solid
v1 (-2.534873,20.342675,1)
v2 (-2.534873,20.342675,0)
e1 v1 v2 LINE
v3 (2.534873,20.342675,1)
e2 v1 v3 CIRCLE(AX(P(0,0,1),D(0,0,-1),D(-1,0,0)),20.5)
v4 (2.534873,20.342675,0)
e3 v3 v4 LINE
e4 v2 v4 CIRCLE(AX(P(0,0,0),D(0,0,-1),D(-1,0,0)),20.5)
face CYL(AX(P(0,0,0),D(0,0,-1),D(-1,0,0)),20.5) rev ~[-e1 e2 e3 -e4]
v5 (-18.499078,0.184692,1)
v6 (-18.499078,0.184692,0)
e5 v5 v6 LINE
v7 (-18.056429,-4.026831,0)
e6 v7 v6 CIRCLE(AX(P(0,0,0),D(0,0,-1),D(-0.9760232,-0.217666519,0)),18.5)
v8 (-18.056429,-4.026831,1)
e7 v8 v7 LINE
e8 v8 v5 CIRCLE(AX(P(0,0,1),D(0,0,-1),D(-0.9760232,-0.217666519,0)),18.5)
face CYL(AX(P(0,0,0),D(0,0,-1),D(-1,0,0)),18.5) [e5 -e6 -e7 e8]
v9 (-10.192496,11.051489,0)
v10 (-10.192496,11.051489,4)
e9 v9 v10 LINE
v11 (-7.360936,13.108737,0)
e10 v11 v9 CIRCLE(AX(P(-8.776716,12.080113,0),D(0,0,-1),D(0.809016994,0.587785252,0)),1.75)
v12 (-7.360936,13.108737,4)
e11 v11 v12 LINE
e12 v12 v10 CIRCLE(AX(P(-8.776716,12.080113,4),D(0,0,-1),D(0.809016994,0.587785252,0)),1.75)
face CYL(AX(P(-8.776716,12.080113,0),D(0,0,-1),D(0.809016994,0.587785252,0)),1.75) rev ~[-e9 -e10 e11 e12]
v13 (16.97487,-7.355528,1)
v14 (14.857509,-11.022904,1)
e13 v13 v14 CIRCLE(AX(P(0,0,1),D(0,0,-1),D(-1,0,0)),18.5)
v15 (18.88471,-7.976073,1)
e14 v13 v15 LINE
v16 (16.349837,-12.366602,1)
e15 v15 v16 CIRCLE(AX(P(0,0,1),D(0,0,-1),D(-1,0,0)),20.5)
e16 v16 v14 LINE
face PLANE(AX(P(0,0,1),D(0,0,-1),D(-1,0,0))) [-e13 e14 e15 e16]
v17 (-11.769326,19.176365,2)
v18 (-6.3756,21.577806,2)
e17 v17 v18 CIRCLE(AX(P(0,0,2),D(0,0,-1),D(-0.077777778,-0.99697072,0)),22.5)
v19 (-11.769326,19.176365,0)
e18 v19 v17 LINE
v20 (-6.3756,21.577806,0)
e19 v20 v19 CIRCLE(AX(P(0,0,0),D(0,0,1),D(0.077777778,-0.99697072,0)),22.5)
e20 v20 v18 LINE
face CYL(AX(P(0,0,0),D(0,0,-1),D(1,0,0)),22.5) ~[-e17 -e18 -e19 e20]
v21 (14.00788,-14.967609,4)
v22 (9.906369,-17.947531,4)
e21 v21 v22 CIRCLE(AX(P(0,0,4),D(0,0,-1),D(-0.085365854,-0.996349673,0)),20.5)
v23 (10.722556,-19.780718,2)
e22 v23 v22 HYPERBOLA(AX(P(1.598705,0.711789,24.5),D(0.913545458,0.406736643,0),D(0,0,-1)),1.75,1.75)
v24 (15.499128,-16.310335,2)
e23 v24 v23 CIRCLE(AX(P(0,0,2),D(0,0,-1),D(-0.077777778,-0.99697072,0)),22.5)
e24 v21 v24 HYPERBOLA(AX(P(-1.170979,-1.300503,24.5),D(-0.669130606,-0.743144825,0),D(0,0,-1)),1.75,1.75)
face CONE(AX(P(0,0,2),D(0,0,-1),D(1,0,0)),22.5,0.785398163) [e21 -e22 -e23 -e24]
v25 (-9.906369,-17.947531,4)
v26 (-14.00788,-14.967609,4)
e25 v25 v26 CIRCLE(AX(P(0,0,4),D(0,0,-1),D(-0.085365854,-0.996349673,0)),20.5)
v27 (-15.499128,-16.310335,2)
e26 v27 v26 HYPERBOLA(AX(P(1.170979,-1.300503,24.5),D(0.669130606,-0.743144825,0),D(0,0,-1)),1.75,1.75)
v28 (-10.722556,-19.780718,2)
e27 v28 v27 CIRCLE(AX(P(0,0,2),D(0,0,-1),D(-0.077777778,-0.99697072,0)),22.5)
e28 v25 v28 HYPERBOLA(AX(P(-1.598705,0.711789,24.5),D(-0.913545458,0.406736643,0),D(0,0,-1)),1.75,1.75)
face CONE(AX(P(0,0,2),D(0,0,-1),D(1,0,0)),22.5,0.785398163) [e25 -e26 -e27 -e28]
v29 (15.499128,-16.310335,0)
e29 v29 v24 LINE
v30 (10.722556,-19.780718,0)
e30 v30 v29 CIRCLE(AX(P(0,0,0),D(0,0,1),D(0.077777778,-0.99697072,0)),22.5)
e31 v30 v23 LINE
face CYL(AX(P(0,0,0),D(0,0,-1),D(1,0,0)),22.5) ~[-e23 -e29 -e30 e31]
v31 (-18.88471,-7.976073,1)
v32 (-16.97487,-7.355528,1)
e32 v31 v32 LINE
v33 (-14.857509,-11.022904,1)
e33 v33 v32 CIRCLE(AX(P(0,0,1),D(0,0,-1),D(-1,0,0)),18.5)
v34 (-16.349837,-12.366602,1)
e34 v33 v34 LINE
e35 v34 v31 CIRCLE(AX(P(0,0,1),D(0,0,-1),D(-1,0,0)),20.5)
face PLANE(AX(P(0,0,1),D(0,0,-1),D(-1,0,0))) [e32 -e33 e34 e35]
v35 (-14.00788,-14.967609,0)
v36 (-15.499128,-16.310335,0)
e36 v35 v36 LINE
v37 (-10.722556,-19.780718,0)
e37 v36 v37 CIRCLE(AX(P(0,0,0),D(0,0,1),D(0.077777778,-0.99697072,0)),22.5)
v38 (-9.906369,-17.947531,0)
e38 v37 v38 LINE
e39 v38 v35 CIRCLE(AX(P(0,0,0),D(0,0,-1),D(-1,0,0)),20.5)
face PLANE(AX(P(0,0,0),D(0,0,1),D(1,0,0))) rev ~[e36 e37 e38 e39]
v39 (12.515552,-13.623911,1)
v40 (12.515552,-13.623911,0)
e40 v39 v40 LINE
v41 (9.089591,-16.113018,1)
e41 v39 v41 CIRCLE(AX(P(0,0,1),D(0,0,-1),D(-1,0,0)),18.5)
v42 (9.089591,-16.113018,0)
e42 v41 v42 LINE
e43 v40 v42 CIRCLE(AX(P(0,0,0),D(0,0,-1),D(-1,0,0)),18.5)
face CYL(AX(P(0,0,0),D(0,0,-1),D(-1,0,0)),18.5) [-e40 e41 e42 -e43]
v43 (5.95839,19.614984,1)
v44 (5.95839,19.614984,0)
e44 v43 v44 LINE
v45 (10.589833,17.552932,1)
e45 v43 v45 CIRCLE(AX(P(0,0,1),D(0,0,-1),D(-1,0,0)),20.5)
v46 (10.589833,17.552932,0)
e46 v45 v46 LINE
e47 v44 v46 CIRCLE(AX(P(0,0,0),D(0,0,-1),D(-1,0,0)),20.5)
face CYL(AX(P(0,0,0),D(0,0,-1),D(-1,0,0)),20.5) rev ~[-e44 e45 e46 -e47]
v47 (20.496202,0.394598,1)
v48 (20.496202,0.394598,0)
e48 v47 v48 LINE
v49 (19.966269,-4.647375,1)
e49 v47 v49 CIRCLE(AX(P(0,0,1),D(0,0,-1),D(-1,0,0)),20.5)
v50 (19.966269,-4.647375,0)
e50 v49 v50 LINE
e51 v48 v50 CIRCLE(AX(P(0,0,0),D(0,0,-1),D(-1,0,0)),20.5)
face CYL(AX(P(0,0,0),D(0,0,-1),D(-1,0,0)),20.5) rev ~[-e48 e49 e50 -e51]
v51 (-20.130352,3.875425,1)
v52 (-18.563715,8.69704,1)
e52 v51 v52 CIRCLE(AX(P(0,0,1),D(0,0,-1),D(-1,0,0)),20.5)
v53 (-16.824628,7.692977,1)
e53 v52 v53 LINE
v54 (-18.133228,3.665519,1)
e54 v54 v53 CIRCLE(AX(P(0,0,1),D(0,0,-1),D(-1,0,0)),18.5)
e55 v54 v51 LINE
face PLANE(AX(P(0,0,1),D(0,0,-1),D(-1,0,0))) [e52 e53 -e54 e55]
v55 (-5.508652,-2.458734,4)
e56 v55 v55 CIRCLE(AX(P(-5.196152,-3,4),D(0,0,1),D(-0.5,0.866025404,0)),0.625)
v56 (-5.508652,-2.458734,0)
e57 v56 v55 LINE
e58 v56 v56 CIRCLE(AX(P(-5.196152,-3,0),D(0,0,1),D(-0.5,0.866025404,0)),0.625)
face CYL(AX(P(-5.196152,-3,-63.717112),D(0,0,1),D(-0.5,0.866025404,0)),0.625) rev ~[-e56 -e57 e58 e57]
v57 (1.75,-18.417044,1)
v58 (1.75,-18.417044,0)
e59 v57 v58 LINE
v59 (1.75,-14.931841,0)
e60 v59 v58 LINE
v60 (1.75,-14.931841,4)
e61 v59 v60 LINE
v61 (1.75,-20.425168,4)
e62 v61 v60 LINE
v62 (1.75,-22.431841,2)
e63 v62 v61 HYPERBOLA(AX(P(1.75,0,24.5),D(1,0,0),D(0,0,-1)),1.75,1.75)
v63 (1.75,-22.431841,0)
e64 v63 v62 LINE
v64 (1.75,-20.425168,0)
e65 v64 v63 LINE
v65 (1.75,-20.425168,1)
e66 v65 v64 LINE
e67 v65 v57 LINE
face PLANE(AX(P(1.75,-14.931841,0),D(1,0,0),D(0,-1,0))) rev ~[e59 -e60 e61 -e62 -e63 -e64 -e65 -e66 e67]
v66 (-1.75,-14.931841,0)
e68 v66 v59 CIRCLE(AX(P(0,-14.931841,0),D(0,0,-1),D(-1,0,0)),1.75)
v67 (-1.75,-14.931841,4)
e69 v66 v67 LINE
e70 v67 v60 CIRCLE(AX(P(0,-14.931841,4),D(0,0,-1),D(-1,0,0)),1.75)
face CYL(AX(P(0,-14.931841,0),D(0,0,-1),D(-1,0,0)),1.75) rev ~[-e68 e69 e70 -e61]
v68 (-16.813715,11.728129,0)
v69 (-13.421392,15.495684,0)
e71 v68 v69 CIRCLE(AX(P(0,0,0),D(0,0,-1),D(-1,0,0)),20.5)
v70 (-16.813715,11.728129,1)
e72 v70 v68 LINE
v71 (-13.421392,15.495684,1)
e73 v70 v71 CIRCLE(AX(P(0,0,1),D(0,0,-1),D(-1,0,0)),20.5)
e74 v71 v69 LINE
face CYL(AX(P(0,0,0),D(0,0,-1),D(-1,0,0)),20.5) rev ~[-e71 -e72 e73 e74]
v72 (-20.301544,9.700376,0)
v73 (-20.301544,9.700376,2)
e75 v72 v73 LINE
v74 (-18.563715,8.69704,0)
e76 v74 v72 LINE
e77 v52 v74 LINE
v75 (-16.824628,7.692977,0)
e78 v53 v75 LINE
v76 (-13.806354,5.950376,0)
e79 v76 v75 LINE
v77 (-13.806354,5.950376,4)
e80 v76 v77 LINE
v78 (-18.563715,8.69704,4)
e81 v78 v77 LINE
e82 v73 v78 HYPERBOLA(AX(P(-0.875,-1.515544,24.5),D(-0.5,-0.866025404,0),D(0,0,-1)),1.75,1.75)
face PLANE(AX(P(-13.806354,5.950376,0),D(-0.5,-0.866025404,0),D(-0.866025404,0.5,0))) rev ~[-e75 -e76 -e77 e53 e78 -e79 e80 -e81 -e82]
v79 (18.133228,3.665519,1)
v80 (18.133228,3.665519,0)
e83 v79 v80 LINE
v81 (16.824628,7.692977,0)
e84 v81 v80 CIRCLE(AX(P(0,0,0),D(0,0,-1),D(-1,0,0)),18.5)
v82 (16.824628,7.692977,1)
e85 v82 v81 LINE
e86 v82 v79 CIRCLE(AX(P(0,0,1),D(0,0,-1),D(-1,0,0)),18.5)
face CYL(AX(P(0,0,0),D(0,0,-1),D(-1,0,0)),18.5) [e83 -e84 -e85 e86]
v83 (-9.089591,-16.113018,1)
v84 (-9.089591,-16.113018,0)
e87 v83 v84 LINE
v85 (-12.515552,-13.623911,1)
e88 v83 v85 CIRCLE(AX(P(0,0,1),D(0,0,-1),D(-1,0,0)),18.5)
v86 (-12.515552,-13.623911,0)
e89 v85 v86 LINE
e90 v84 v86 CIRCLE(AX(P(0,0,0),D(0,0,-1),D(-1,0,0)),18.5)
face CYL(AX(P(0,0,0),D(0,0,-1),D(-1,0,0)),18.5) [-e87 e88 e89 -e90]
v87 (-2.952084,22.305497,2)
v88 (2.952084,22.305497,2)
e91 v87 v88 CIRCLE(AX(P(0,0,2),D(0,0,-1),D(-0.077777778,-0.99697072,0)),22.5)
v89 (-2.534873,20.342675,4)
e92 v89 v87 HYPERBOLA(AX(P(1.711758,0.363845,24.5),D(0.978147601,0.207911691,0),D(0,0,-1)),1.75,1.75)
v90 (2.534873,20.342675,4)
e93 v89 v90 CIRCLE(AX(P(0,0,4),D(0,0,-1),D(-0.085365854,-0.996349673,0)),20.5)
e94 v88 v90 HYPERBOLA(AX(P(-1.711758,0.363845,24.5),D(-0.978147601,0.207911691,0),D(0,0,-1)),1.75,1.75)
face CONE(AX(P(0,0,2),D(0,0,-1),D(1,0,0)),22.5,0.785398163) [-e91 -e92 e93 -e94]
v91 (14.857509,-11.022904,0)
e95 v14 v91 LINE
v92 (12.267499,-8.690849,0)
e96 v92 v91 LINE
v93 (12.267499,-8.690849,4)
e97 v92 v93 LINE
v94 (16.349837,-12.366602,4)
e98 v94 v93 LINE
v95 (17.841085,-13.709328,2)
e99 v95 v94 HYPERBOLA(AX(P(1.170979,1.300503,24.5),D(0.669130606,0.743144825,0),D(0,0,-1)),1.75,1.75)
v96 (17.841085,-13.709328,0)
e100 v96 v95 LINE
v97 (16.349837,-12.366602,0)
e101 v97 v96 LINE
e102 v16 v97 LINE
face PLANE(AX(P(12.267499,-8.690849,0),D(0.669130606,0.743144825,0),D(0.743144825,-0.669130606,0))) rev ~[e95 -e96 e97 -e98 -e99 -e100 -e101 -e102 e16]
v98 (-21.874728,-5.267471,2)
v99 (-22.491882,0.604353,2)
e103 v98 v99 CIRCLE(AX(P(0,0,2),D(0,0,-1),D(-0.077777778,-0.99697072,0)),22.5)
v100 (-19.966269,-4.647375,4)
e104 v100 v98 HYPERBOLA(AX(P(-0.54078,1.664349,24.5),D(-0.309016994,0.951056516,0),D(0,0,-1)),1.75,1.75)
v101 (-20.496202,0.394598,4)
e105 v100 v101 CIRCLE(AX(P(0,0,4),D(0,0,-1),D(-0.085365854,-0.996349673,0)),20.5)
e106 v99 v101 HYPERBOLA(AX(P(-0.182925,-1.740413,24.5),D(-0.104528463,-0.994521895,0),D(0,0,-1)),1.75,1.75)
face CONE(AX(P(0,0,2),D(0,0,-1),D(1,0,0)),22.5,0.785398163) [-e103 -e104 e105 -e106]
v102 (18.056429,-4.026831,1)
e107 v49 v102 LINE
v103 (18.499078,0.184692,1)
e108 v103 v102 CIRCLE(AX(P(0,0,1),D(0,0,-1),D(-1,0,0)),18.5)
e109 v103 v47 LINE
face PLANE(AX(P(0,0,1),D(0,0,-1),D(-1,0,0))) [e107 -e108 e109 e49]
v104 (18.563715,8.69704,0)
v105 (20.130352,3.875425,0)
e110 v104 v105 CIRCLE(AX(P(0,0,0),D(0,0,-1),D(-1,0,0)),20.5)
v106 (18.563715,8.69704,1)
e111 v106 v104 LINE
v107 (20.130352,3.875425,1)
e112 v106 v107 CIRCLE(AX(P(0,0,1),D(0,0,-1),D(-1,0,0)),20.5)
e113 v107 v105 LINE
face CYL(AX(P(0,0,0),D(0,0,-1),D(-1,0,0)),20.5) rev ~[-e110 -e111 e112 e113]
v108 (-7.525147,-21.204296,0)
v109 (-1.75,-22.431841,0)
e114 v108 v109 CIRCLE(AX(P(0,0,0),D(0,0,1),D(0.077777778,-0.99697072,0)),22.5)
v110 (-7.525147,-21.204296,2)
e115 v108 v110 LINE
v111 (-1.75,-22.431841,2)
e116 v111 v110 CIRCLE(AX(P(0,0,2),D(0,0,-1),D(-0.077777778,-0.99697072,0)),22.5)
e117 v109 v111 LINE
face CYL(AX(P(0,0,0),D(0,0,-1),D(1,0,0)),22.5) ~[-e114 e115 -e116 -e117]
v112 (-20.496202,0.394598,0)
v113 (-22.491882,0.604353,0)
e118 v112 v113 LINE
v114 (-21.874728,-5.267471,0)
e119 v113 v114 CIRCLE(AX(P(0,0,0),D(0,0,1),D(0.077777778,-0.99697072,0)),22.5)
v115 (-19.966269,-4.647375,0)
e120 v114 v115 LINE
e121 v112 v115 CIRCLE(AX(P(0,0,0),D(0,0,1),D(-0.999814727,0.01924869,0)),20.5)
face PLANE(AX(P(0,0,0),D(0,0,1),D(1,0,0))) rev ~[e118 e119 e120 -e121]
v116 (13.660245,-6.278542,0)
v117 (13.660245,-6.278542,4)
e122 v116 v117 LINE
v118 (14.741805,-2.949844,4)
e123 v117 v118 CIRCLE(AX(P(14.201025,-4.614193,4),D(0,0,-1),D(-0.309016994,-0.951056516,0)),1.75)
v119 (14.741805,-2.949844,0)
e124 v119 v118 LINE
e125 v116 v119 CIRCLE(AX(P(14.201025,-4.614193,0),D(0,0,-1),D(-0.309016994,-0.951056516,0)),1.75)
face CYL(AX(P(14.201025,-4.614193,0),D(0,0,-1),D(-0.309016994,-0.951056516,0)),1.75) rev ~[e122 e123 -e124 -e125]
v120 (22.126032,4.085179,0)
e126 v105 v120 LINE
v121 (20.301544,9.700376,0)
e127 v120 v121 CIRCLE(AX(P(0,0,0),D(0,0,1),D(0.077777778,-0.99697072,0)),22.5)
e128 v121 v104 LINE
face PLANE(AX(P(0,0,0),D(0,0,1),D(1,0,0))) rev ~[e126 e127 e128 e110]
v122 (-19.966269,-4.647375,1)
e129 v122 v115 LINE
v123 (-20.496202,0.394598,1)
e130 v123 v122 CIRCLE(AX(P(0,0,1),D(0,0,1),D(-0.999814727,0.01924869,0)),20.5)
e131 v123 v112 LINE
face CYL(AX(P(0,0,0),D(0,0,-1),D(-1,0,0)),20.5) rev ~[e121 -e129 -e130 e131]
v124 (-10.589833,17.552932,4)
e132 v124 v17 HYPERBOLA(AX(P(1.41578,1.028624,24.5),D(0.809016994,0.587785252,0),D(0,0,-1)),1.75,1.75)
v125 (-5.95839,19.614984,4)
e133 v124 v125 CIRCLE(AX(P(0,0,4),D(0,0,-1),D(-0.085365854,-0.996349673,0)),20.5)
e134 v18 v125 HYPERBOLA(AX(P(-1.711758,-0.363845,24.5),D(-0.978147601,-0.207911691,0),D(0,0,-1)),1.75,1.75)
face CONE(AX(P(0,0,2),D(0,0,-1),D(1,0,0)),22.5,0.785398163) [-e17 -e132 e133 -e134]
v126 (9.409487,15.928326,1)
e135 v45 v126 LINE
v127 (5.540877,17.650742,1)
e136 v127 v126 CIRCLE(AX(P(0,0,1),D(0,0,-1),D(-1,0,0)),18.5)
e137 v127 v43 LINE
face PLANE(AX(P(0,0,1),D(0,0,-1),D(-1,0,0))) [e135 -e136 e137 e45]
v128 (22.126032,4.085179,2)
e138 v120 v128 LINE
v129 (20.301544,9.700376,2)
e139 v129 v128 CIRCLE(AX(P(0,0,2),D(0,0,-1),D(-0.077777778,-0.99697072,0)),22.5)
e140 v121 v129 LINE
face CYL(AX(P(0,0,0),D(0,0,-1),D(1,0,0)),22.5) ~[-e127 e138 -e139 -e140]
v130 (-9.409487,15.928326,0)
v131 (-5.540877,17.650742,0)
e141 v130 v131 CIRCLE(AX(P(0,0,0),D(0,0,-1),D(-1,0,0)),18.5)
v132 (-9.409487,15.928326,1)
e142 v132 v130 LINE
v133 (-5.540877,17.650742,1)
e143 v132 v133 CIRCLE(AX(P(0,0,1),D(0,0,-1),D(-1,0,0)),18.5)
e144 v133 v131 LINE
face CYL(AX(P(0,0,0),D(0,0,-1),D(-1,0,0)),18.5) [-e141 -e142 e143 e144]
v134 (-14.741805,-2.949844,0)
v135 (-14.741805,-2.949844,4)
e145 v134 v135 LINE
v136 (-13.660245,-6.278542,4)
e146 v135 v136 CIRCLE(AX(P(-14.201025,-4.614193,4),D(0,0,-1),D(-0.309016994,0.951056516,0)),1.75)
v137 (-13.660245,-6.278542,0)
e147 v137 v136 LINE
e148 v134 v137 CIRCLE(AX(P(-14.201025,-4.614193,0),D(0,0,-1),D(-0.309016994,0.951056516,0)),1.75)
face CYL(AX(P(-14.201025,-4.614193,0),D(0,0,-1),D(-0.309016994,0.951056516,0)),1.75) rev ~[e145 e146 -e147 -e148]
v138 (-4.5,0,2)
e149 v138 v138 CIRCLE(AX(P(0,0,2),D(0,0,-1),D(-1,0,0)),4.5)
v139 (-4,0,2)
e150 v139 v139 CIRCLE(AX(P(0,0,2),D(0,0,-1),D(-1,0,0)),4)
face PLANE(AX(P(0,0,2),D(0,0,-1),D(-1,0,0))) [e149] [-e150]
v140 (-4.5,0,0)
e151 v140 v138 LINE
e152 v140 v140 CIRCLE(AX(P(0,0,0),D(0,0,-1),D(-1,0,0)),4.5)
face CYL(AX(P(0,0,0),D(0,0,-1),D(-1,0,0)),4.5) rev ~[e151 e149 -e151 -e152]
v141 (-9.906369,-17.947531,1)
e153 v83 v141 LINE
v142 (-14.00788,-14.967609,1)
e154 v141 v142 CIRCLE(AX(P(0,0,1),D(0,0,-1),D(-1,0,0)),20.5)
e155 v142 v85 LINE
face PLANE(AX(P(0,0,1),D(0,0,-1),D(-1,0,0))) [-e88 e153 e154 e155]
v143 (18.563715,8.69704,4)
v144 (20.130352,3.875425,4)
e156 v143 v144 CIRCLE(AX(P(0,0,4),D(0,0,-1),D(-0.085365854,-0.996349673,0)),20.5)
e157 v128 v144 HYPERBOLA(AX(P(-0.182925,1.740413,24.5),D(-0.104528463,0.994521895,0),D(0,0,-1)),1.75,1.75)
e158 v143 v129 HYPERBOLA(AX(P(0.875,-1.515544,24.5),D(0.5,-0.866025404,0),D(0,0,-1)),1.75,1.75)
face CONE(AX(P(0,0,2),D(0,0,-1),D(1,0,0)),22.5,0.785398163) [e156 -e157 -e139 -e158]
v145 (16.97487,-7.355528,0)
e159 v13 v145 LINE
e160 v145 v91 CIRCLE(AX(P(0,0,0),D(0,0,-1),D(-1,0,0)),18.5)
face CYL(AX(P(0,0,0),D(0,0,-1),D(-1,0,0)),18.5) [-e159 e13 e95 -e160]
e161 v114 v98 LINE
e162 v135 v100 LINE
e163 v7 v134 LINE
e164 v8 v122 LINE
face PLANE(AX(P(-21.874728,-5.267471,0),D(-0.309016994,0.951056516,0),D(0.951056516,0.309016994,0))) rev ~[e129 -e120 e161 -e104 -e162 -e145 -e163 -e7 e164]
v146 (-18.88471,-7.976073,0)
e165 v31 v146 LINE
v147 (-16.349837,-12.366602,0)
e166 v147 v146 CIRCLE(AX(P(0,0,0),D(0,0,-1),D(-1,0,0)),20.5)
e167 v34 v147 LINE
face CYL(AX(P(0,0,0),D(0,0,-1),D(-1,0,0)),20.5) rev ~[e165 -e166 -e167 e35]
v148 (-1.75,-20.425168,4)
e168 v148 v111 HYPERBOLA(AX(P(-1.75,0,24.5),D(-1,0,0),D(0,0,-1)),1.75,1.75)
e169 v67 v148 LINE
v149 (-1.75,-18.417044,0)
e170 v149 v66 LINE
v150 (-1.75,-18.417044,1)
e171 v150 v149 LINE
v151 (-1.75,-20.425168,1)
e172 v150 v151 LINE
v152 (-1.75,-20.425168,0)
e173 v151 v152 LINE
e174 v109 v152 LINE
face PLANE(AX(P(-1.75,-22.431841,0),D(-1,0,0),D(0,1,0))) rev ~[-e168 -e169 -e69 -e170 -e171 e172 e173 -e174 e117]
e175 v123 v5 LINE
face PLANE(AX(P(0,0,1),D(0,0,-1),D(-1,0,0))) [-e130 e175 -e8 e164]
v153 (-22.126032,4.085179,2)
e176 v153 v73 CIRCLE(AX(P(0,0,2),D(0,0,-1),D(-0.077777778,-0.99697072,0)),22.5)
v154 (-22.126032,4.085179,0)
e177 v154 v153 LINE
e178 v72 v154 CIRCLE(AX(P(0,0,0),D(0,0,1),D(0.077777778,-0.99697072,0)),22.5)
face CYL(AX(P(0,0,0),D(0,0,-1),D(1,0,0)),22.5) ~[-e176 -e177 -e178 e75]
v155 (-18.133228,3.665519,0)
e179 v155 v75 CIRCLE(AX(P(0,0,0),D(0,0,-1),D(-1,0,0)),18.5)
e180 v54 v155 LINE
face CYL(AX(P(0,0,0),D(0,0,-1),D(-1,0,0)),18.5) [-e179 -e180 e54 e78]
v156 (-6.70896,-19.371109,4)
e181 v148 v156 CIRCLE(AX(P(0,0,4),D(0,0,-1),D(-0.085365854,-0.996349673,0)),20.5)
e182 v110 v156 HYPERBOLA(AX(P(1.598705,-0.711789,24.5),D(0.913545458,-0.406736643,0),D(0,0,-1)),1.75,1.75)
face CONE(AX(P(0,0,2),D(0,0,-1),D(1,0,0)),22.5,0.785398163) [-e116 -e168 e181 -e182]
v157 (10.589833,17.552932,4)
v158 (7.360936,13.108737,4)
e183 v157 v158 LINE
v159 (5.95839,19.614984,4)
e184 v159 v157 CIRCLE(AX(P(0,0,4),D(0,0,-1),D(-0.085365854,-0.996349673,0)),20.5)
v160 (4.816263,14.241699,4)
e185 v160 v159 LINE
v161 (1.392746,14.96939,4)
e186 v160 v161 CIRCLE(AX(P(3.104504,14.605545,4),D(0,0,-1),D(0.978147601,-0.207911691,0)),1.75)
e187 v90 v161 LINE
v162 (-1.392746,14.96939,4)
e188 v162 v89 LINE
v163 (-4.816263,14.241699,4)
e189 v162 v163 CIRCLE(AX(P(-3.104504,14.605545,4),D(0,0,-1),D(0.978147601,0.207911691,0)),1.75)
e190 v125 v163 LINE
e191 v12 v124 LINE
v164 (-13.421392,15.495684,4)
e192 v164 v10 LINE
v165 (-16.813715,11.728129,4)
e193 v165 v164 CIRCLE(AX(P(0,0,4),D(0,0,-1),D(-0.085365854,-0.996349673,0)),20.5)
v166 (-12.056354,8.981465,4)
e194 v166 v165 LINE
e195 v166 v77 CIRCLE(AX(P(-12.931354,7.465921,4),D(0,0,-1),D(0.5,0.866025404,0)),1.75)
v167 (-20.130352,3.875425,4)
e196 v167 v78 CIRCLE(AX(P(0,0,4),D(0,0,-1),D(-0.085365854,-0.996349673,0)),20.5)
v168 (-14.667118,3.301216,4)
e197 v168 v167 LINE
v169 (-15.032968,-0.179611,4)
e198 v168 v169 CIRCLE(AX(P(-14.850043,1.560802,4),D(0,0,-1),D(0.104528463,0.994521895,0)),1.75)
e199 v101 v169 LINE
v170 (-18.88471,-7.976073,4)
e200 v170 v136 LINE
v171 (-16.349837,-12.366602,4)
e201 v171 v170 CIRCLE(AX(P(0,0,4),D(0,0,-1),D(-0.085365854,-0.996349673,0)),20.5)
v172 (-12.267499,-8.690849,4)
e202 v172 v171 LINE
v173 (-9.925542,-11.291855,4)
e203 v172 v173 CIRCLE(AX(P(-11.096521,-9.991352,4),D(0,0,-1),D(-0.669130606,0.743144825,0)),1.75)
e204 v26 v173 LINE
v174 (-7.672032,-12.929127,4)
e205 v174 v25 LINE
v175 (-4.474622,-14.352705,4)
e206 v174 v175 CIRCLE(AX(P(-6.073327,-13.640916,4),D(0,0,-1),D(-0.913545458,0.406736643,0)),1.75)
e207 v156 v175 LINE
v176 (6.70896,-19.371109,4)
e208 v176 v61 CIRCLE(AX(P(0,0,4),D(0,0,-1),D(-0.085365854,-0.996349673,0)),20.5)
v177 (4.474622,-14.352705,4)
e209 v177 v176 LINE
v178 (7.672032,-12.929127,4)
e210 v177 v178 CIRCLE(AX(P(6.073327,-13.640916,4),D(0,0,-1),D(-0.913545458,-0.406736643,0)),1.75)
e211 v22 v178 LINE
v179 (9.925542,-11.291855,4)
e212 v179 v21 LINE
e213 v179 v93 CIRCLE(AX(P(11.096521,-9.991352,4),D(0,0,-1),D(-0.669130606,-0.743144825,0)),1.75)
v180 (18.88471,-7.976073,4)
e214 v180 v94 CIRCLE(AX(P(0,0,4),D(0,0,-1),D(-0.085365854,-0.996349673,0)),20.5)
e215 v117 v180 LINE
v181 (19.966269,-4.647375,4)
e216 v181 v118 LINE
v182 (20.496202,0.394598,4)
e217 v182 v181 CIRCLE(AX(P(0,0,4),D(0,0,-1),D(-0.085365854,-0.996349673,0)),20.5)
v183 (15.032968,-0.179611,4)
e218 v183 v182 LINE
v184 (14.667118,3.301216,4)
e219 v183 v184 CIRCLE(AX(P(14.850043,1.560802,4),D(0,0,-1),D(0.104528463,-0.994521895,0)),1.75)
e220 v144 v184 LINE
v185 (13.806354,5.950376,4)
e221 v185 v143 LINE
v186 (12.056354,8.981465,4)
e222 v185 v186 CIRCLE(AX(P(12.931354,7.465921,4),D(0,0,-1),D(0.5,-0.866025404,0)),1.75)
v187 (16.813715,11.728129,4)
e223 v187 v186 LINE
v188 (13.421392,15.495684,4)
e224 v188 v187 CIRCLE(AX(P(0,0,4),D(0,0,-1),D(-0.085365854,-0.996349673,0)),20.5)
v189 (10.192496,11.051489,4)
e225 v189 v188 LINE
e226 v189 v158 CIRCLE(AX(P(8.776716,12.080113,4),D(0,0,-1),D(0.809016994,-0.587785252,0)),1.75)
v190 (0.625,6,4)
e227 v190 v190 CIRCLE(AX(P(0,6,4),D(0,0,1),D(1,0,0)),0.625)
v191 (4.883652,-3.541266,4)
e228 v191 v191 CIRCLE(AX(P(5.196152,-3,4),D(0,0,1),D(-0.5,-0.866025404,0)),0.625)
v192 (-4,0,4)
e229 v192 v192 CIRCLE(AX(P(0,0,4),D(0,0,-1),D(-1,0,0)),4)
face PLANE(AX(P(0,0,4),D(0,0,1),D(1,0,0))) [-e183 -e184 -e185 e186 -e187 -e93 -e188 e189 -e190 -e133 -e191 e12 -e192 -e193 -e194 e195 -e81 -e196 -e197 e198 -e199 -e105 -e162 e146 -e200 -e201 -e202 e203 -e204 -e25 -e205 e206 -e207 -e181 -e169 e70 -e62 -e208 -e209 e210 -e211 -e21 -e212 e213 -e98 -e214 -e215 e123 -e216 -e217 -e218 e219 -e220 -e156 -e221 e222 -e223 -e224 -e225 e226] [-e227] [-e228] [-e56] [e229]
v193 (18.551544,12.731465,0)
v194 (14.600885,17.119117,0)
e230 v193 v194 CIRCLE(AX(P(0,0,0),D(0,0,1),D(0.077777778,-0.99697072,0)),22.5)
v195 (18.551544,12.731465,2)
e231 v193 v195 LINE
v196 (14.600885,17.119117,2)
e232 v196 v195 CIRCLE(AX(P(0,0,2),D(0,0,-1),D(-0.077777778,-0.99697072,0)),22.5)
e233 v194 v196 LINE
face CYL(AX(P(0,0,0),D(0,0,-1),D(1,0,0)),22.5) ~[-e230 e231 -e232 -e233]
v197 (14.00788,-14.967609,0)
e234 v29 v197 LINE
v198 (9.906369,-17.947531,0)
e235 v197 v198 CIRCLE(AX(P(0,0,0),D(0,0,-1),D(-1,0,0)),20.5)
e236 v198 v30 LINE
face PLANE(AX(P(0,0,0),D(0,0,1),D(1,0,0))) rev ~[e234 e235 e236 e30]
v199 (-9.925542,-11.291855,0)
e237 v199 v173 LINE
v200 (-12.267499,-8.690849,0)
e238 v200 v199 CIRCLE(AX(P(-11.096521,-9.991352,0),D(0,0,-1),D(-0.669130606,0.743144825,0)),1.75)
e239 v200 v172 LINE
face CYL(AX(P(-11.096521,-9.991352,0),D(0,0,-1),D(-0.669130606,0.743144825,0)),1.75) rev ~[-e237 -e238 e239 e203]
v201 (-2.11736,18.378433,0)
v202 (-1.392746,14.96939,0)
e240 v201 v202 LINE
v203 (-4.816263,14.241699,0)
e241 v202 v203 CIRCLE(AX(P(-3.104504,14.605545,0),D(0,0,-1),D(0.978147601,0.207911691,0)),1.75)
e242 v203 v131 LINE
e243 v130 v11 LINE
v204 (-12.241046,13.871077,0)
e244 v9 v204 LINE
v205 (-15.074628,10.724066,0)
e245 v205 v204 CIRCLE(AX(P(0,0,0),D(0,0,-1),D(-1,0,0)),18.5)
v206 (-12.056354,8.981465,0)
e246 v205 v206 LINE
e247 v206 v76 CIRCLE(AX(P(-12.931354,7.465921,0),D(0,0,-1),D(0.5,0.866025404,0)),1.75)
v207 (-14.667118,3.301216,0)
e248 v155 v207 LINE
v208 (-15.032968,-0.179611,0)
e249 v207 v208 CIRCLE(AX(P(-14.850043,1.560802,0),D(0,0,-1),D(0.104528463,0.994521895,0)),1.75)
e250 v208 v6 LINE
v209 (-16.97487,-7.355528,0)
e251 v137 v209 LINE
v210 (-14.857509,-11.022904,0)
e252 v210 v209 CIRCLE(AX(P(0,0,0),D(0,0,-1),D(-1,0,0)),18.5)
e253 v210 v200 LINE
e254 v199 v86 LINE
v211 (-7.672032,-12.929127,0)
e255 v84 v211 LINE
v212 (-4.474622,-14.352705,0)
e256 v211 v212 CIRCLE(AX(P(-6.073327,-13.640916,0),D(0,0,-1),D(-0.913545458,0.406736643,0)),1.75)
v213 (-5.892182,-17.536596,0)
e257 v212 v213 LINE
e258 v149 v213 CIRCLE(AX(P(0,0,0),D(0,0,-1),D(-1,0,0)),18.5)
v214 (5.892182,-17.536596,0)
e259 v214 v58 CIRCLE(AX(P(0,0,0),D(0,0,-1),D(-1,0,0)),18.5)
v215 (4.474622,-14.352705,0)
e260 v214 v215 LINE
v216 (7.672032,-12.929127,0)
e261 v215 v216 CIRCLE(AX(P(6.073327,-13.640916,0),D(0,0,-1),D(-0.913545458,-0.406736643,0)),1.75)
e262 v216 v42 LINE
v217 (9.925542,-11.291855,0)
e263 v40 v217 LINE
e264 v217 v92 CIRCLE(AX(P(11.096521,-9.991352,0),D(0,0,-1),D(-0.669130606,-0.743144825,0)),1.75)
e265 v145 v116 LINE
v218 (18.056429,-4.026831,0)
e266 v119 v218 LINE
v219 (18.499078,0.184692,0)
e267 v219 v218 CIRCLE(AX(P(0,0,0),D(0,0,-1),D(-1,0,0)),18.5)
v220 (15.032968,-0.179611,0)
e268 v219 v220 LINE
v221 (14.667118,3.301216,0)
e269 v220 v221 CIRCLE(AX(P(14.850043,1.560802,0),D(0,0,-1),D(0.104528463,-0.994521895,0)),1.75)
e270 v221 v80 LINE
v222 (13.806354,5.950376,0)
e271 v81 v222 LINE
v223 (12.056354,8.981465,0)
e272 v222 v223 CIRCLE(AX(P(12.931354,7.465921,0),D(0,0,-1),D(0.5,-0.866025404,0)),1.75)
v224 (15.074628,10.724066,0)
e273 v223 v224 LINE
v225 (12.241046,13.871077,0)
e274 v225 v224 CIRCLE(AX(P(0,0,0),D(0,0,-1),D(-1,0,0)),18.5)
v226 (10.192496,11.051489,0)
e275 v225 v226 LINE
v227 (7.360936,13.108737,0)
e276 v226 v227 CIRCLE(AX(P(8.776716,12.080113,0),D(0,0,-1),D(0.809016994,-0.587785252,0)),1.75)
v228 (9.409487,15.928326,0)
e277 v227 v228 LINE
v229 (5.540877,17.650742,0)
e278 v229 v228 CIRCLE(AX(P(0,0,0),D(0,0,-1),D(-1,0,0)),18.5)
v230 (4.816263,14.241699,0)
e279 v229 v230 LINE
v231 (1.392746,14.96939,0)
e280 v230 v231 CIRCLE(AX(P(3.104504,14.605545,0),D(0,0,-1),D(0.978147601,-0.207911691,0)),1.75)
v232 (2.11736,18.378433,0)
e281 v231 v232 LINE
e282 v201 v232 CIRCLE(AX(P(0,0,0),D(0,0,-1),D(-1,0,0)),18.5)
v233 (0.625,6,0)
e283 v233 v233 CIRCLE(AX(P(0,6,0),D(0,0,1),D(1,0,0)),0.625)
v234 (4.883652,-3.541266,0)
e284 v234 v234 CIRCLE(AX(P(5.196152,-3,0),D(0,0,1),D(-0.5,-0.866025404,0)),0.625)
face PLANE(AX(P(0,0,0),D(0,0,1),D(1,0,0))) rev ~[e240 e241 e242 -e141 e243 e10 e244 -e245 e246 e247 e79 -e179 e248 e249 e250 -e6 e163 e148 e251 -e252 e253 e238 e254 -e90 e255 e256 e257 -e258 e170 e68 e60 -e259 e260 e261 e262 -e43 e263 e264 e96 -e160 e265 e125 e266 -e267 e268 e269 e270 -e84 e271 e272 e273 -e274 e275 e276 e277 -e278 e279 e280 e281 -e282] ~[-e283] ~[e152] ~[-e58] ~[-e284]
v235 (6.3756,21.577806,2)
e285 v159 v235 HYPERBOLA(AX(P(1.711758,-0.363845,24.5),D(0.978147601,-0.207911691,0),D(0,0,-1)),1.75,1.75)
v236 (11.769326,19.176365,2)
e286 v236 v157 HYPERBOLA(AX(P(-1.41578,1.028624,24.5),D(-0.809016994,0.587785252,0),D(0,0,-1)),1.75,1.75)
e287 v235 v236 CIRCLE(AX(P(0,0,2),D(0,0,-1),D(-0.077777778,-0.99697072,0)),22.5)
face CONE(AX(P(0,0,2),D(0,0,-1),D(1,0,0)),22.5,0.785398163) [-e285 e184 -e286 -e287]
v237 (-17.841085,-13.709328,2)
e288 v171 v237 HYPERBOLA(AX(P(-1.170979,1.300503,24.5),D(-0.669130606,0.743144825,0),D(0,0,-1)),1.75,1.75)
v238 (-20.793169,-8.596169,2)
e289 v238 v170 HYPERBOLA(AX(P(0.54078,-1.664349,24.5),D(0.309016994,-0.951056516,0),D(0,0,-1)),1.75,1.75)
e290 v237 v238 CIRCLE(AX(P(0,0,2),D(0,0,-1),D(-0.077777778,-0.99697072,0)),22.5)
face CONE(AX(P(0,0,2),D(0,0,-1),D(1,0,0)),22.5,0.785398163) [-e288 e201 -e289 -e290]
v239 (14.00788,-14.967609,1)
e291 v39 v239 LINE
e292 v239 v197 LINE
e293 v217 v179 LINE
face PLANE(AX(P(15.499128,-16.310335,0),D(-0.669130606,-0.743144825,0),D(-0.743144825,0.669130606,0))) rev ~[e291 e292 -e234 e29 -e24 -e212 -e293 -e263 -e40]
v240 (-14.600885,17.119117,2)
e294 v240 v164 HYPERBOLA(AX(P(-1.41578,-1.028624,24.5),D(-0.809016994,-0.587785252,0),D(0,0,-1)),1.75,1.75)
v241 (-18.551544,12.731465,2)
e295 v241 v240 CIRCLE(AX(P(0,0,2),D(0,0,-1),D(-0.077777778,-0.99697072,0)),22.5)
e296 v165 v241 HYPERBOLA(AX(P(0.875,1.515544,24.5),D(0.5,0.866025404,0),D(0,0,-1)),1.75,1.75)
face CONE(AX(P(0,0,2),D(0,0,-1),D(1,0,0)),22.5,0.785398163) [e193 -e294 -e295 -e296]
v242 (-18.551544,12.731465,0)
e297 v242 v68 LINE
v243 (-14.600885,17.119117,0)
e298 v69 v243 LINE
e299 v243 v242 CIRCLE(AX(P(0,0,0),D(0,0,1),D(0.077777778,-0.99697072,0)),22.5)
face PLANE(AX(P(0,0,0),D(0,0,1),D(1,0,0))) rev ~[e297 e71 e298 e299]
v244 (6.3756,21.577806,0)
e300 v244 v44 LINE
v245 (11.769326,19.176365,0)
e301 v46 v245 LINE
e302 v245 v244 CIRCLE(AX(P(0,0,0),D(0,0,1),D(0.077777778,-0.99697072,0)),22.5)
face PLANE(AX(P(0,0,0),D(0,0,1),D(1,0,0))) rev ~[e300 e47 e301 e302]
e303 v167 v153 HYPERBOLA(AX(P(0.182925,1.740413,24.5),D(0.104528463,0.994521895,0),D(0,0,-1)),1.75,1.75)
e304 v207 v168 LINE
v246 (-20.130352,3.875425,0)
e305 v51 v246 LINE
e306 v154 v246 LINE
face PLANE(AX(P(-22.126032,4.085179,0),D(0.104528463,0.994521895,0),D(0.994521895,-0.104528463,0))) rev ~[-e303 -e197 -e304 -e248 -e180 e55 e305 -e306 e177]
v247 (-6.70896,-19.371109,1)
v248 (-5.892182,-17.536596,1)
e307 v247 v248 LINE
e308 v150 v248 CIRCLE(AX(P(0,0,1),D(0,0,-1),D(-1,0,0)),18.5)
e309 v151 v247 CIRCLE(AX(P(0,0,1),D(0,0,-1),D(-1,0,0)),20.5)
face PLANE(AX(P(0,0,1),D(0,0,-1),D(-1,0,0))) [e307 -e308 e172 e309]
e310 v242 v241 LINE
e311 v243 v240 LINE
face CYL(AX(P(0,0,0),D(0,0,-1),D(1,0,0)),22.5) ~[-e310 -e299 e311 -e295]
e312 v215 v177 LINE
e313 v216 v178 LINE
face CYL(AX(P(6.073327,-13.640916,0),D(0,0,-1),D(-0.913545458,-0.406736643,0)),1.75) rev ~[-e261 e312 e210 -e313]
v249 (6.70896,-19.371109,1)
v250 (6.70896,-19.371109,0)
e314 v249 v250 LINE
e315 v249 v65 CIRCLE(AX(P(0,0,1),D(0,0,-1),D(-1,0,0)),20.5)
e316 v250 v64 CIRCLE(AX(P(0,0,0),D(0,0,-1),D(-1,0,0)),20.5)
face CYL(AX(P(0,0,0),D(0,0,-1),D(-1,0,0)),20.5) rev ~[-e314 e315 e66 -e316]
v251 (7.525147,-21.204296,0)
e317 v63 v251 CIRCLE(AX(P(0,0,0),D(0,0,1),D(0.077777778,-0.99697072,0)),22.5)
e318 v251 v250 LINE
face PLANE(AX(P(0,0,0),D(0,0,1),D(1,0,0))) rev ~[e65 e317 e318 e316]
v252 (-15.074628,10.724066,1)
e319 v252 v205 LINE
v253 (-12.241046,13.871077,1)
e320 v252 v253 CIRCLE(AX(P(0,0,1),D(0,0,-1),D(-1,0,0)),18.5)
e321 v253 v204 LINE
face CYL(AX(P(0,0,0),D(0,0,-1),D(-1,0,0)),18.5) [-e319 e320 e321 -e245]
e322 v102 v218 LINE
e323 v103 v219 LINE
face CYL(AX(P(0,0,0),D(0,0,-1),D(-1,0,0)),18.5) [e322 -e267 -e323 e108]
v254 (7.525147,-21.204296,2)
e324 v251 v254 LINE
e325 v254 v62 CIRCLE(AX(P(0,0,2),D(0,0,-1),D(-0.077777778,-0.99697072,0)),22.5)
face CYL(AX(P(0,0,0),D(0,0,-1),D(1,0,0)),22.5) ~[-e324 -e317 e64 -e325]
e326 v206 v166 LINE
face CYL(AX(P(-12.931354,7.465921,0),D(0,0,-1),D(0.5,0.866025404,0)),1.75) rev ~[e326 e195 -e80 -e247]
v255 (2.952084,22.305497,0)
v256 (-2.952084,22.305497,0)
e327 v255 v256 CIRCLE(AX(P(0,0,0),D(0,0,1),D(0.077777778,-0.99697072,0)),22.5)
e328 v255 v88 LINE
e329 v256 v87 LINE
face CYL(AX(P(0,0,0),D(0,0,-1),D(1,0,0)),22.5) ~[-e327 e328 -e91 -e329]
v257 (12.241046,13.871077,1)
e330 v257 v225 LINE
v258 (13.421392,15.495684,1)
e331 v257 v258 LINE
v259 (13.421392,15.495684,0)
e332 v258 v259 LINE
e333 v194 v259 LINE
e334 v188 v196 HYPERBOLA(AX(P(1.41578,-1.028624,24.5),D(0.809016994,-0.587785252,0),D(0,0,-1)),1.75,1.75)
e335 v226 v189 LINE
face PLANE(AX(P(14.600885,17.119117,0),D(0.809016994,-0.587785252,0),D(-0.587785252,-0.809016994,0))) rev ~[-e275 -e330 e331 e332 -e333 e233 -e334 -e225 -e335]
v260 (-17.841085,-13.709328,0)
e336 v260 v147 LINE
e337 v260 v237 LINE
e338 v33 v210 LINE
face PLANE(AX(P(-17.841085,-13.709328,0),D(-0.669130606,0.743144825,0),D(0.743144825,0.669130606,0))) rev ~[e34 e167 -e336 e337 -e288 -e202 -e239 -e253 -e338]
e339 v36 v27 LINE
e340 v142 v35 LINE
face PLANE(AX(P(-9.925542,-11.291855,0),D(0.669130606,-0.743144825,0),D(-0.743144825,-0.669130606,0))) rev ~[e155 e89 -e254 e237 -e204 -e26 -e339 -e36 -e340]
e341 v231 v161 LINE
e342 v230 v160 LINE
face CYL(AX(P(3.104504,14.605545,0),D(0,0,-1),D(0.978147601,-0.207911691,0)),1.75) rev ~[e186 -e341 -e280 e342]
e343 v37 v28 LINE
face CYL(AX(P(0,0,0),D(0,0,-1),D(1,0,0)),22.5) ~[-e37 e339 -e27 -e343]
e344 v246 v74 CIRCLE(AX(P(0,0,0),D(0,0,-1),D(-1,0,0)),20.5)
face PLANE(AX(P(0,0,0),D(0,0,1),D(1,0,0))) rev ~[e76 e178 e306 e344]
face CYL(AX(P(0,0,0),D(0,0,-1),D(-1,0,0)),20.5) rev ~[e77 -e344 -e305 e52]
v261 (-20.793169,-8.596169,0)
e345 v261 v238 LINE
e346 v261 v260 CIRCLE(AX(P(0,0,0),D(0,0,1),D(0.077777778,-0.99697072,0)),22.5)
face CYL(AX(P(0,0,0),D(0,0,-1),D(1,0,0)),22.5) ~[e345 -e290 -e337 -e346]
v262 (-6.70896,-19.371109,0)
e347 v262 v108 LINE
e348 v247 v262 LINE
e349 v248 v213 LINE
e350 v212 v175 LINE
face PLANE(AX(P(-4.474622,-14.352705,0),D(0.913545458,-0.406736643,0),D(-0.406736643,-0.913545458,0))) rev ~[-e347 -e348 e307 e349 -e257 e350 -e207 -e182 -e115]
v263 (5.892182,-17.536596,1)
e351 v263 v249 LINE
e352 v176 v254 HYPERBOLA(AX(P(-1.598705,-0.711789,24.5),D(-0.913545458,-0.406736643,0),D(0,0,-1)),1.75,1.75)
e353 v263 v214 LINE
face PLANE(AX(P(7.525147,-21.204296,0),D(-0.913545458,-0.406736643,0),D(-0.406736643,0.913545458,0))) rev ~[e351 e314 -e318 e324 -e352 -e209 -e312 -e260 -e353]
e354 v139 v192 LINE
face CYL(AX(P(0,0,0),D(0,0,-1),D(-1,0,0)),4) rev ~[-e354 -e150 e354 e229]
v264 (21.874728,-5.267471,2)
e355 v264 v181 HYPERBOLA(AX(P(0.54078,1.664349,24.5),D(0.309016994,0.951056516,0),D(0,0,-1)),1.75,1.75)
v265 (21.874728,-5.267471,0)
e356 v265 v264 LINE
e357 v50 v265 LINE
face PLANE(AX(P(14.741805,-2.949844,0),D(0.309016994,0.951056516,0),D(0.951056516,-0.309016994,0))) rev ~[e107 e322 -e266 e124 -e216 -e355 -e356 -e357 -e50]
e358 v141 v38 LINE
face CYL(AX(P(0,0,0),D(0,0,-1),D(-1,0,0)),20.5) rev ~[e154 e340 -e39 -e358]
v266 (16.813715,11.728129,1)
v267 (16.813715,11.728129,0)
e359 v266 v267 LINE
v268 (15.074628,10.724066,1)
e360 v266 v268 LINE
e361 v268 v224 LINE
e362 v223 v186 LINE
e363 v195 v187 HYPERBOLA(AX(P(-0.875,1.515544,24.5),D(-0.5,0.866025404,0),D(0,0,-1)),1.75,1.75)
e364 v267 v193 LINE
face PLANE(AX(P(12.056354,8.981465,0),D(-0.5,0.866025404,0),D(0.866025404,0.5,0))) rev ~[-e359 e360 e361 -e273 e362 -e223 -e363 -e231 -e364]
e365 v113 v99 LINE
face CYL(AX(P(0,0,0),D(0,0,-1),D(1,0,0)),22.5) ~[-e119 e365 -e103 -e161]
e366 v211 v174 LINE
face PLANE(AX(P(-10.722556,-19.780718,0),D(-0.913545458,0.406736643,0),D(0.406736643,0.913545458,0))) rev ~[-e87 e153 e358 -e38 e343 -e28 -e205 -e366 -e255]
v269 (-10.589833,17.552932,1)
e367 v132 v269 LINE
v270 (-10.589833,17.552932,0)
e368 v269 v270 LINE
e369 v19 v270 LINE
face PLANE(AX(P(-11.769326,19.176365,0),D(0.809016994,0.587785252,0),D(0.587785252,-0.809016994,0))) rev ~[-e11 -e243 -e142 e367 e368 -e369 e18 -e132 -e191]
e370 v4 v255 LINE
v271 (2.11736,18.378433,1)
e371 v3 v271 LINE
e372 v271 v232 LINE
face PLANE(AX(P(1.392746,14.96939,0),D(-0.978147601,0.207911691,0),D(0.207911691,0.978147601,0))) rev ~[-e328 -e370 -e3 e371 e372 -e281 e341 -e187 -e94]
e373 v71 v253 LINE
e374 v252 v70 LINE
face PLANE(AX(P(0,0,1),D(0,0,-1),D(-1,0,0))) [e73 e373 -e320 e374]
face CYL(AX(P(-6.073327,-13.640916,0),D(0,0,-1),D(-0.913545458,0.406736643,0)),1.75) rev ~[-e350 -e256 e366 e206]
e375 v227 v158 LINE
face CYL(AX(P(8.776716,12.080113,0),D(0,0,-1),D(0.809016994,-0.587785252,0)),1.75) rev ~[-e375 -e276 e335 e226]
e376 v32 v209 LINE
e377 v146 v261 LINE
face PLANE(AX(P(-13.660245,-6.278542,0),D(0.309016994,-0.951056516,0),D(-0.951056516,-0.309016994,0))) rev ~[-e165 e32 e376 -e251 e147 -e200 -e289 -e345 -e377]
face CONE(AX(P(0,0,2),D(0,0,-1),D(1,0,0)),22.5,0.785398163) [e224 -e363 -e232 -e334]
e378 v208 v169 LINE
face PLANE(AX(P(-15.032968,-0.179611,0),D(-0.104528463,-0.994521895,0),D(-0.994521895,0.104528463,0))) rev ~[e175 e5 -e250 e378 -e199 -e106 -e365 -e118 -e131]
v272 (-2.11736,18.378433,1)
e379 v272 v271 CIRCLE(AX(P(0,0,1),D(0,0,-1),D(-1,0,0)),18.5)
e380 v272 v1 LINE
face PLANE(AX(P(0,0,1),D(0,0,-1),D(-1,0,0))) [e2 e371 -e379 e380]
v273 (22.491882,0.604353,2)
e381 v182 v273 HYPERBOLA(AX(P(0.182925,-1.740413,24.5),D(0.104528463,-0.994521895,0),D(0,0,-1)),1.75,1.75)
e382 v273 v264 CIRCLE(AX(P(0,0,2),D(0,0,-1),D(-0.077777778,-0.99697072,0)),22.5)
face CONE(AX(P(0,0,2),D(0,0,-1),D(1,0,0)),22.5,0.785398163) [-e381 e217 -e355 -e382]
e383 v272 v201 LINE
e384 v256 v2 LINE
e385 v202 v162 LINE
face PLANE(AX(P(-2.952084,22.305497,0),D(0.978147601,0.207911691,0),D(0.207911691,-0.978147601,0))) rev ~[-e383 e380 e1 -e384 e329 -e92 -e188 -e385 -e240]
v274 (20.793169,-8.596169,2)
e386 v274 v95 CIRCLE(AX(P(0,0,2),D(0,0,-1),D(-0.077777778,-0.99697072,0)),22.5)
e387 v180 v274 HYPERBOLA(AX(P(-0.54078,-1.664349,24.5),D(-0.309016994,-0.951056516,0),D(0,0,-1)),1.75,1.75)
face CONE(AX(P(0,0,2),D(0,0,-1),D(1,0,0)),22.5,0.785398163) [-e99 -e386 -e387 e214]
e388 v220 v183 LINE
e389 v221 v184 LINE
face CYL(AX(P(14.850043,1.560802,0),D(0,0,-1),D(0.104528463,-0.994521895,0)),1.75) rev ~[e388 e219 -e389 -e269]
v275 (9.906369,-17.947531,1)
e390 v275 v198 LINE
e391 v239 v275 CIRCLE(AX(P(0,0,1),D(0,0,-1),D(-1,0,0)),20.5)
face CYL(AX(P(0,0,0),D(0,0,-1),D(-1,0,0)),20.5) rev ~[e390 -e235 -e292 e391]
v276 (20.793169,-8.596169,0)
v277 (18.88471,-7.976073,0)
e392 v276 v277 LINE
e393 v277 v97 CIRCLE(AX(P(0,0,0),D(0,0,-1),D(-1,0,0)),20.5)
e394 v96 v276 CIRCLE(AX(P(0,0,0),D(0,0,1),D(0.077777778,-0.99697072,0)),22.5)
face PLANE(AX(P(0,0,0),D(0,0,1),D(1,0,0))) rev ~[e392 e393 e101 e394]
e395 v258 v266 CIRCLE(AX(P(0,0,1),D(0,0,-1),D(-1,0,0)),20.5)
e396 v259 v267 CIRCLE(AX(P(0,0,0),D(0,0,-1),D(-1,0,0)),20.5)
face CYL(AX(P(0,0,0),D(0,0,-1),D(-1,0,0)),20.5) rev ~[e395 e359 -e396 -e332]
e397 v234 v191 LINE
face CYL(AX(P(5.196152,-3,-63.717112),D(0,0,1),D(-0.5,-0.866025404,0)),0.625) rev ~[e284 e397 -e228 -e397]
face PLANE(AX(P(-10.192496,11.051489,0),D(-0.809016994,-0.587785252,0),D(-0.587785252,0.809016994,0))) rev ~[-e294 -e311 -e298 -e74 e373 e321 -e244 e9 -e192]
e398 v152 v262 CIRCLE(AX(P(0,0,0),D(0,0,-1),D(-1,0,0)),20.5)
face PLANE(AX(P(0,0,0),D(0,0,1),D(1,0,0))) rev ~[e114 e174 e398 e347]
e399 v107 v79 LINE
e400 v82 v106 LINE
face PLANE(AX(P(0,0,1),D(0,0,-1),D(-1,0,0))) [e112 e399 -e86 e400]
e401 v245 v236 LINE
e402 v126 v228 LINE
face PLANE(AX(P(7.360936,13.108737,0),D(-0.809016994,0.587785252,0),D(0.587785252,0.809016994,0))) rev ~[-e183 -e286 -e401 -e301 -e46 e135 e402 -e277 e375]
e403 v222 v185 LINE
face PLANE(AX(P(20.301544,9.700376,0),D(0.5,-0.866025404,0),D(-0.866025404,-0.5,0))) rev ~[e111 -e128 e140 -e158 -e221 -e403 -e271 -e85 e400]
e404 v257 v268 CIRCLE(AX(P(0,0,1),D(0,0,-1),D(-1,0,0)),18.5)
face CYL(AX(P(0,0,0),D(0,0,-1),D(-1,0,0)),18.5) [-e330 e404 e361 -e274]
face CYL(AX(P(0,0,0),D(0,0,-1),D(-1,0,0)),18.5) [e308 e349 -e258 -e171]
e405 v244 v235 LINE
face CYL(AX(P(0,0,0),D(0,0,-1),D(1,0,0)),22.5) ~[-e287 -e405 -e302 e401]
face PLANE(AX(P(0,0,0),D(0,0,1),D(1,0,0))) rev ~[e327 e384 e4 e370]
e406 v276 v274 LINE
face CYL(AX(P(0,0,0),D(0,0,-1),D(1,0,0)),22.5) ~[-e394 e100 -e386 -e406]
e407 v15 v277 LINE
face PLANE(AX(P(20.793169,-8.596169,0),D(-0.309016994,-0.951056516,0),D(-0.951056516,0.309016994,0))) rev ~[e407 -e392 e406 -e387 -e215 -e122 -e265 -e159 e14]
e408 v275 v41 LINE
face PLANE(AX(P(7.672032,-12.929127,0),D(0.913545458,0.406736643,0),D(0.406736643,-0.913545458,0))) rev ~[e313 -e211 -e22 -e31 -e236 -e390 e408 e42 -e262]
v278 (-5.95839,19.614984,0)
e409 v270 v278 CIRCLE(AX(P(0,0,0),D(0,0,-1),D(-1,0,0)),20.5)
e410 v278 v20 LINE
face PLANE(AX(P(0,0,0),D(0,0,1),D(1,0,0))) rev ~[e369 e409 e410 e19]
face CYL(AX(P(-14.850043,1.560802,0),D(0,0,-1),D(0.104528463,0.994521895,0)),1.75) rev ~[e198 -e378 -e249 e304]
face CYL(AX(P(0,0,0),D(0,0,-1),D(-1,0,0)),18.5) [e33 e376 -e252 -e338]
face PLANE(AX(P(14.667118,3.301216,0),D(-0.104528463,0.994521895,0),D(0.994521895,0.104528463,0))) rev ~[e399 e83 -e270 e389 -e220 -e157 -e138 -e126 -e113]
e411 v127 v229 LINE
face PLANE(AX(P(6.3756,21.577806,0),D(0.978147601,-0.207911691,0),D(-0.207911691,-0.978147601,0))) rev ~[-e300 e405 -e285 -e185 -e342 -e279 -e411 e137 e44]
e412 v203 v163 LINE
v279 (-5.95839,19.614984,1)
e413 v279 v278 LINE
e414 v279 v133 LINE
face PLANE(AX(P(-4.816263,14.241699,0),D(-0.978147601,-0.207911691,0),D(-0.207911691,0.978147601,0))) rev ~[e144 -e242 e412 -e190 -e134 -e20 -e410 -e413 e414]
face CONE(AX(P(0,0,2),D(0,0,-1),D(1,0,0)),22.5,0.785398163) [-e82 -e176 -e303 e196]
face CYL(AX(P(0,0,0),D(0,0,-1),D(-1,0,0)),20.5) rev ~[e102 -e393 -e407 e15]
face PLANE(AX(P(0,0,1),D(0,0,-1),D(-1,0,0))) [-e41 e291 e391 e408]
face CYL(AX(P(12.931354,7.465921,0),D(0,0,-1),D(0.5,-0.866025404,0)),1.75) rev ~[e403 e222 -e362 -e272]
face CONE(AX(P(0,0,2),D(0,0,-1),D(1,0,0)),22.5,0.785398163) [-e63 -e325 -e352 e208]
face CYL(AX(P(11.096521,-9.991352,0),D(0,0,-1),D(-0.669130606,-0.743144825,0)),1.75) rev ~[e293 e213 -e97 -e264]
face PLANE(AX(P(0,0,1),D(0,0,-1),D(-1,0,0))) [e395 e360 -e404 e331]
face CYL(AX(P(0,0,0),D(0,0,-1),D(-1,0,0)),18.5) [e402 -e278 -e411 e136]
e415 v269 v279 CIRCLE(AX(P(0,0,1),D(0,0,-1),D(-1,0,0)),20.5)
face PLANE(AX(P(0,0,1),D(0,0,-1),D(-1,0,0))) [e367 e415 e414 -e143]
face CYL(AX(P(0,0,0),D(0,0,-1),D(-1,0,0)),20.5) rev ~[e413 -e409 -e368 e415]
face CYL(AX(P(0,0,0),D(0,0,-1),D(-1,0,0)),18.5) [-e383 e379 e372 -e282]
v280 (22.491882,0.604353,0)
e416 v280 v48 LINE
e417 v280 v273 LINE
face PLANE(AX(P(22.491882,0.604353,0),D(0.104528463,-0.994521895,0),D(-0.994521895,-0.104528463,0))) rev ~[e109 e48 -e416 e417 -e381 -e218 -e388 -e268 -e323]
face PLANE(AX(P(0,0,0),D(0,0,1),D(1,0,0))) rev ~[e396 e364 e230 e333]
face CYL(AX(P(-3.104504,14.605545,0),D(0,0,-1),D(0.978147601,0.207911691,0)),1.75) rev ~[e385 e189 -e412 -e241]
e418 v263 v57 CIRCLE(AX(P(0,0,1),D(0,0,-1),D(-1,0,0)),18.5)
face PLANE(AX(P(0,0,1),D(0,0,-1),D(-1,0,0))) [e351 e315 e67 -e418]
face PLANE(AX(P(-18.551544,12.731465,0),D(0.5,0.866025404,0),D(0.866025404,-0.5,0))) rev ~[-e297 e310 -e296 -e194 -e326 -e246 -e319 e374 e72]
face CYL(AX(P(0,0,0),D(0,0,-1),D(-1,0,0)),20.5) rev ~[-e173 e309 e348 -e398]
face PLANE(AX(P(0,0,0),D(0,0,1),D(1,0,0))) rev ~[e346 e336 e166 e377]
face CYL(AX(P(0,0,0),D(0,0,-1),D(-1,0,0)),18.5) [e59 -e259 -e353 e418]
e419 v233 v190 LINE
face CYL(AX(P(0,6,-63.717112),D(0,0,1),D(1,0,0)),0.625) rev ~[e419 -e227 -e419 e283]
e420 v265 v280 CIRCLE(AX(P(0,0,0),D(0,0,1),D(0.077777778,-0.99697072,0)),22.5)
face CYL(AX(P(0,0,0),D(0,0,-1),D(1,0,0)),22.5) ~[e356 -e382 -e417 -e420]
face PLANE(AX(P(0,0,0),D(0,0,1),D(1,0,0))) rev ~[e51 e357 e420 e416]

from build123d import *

# Parameters (mm, degrees)
ESBO_O1_R                = 22.5
RESSALTO_EXTRUS_O1_DEPTH = 4
CHANFRO1_SIZE            = 2
CORTE_EXTRUS_O1_DEPTH    = 33.070235422
ESBO_O3_R                = 4
CORTE_EXTRUS_O2_DEPTH    = 33.070235422
ESBO_O4_R                = 4.5
CORTE_EXTRUS_O3_DEPTH    = 2
PADR_OCIRCULAR1_COUNT    = 15
ESBO_O5_R                = 20.5
ESBO_O5_R_2              = 18.5
CORTE_EXTRUS_O4_DEPTH    = 1
FURO_ROSCADO_DE_M1_61_D  = 1.25
PADR_OCIRCULAR2_COUNT    = 3


with BuildPart() as part:
    # Esboço1 → Ressalto-extrusão1 (new body)
    with BuildSketch(Plane.XY):
        Circle(ESBO_O1_R)
    extrude(amount=RESSALTO_EXTRUS_O1_DEPTH)

    # Chanfro1
    chanfro1_edges = [part.edges().sort_by_distance(p)[0] for p in [
        (-22.5, 0, 4),
    ]]
    chamfer(chanfro1_edges, length=CHANFRO1_SIZE)

    # Esboço2 → Corte-extrusão1 (cut, through all)
    with BuildSketch(Plane(origin=(0, 0, 0), x_dir=(-1, 0, 0), z_dir=(0, 0, -1))):
        with BuildLine():
            Line((1.75, -22.431841208), (1.75, -14.931841208))
            ThreePointArc((1.75, -14.931841208), (0, -13.181841208), (-1.75, -14.931841208))
            Line((-1.75, -14.931841208), (-1.75, -22.431841208))
            ThreePointArc((-1.75, -22.431841208), (0, -22.5), (1.75, -22.431841208))
        make_face()
    corte_extrus_o1 = extrude(amount=-CORTE_EXTRUS_O1_DEPTH, mode=Mode.SUBTRACT)

    # Esboço3 → Corte-extrusão2 (cut, through all)
    with BuildSketch(Plane(origin=(0, 0, 0), x_dir=(-1, 0, 0), z_dir=(0, 0, -1))):
        Circle(ESBO_O3_R)
    extrude(amount=-CORTE_EXTRUS_O2_DEPTH, mode=Mode.SUBTRACT)

    # Esboço4 → Corte-extrusão3 (cut)
    with BuildSketch(Plane(origin=(0, 0, 0), x_dir=(-1, 0, 0), z_dir=(0, 0, -1))):
        Circle(ESBO_O4_R)
    extrude(amount=-CORTE_EXTRUS_O3_DEPTH, mode=Mode.SUBTRACT)

    # PadrãoCircular1: Corte-extrusão1 ×15 about axis
    padr_ocircular1_axis = Axis((0, 0, 0), (0, 0, 1))
    for i in range(1, PADR_OCIRCULAR1_COUNT):
        add(corte_extrus_o1.rotate(padr_ocircular1_axis, i * 360 / PADR_OCIRCULAR1_COUNT), mode=Mode.SUBTRACT)

    # Esboço5 → Corte-extrusão4 (cut)
    with BuildSketch(Plane(origin=(0, 0, 0), x_dir=(-1, 0, 0), z_dir=(0, 0, -1))):
        Circle(ESBO_O5_R)
        Circle(ESBO_O5_R_2, mode=Mode.SUBTRACT)
    extrude(amount=-CORTE_EXTRUS_O4_DEPTH, mode=Mode.SUBTRACT)

    # Furo roscado de M1.61 (through all)
    with Locations(Plane(origin=(0, 6, 0), x_dir=(-1, 0, 0), z_dir=(0, 0, -1))):
        with Locations((0, 0)):
            furo_roscado_de_m1_61 = Hole(FURO_ROSCADO_DE_M1_61_D / 2)

    # PadrãoCircular2: Furo roscado de M1.61 ×3 about axis
    padr_ocircular2_axis = Axis((0, 0, 0), (0, 0, 1))
    for i in range(1, PADR_OCIRCULAR2_COUNT):
        add(furo_roscado_de_m1_61.rotate(padr_ocircular2_axis, i * 360 / PADR_OCIRCULAR2_COUNT), mode=Mode.SUBTRACT)


solid = part.part
